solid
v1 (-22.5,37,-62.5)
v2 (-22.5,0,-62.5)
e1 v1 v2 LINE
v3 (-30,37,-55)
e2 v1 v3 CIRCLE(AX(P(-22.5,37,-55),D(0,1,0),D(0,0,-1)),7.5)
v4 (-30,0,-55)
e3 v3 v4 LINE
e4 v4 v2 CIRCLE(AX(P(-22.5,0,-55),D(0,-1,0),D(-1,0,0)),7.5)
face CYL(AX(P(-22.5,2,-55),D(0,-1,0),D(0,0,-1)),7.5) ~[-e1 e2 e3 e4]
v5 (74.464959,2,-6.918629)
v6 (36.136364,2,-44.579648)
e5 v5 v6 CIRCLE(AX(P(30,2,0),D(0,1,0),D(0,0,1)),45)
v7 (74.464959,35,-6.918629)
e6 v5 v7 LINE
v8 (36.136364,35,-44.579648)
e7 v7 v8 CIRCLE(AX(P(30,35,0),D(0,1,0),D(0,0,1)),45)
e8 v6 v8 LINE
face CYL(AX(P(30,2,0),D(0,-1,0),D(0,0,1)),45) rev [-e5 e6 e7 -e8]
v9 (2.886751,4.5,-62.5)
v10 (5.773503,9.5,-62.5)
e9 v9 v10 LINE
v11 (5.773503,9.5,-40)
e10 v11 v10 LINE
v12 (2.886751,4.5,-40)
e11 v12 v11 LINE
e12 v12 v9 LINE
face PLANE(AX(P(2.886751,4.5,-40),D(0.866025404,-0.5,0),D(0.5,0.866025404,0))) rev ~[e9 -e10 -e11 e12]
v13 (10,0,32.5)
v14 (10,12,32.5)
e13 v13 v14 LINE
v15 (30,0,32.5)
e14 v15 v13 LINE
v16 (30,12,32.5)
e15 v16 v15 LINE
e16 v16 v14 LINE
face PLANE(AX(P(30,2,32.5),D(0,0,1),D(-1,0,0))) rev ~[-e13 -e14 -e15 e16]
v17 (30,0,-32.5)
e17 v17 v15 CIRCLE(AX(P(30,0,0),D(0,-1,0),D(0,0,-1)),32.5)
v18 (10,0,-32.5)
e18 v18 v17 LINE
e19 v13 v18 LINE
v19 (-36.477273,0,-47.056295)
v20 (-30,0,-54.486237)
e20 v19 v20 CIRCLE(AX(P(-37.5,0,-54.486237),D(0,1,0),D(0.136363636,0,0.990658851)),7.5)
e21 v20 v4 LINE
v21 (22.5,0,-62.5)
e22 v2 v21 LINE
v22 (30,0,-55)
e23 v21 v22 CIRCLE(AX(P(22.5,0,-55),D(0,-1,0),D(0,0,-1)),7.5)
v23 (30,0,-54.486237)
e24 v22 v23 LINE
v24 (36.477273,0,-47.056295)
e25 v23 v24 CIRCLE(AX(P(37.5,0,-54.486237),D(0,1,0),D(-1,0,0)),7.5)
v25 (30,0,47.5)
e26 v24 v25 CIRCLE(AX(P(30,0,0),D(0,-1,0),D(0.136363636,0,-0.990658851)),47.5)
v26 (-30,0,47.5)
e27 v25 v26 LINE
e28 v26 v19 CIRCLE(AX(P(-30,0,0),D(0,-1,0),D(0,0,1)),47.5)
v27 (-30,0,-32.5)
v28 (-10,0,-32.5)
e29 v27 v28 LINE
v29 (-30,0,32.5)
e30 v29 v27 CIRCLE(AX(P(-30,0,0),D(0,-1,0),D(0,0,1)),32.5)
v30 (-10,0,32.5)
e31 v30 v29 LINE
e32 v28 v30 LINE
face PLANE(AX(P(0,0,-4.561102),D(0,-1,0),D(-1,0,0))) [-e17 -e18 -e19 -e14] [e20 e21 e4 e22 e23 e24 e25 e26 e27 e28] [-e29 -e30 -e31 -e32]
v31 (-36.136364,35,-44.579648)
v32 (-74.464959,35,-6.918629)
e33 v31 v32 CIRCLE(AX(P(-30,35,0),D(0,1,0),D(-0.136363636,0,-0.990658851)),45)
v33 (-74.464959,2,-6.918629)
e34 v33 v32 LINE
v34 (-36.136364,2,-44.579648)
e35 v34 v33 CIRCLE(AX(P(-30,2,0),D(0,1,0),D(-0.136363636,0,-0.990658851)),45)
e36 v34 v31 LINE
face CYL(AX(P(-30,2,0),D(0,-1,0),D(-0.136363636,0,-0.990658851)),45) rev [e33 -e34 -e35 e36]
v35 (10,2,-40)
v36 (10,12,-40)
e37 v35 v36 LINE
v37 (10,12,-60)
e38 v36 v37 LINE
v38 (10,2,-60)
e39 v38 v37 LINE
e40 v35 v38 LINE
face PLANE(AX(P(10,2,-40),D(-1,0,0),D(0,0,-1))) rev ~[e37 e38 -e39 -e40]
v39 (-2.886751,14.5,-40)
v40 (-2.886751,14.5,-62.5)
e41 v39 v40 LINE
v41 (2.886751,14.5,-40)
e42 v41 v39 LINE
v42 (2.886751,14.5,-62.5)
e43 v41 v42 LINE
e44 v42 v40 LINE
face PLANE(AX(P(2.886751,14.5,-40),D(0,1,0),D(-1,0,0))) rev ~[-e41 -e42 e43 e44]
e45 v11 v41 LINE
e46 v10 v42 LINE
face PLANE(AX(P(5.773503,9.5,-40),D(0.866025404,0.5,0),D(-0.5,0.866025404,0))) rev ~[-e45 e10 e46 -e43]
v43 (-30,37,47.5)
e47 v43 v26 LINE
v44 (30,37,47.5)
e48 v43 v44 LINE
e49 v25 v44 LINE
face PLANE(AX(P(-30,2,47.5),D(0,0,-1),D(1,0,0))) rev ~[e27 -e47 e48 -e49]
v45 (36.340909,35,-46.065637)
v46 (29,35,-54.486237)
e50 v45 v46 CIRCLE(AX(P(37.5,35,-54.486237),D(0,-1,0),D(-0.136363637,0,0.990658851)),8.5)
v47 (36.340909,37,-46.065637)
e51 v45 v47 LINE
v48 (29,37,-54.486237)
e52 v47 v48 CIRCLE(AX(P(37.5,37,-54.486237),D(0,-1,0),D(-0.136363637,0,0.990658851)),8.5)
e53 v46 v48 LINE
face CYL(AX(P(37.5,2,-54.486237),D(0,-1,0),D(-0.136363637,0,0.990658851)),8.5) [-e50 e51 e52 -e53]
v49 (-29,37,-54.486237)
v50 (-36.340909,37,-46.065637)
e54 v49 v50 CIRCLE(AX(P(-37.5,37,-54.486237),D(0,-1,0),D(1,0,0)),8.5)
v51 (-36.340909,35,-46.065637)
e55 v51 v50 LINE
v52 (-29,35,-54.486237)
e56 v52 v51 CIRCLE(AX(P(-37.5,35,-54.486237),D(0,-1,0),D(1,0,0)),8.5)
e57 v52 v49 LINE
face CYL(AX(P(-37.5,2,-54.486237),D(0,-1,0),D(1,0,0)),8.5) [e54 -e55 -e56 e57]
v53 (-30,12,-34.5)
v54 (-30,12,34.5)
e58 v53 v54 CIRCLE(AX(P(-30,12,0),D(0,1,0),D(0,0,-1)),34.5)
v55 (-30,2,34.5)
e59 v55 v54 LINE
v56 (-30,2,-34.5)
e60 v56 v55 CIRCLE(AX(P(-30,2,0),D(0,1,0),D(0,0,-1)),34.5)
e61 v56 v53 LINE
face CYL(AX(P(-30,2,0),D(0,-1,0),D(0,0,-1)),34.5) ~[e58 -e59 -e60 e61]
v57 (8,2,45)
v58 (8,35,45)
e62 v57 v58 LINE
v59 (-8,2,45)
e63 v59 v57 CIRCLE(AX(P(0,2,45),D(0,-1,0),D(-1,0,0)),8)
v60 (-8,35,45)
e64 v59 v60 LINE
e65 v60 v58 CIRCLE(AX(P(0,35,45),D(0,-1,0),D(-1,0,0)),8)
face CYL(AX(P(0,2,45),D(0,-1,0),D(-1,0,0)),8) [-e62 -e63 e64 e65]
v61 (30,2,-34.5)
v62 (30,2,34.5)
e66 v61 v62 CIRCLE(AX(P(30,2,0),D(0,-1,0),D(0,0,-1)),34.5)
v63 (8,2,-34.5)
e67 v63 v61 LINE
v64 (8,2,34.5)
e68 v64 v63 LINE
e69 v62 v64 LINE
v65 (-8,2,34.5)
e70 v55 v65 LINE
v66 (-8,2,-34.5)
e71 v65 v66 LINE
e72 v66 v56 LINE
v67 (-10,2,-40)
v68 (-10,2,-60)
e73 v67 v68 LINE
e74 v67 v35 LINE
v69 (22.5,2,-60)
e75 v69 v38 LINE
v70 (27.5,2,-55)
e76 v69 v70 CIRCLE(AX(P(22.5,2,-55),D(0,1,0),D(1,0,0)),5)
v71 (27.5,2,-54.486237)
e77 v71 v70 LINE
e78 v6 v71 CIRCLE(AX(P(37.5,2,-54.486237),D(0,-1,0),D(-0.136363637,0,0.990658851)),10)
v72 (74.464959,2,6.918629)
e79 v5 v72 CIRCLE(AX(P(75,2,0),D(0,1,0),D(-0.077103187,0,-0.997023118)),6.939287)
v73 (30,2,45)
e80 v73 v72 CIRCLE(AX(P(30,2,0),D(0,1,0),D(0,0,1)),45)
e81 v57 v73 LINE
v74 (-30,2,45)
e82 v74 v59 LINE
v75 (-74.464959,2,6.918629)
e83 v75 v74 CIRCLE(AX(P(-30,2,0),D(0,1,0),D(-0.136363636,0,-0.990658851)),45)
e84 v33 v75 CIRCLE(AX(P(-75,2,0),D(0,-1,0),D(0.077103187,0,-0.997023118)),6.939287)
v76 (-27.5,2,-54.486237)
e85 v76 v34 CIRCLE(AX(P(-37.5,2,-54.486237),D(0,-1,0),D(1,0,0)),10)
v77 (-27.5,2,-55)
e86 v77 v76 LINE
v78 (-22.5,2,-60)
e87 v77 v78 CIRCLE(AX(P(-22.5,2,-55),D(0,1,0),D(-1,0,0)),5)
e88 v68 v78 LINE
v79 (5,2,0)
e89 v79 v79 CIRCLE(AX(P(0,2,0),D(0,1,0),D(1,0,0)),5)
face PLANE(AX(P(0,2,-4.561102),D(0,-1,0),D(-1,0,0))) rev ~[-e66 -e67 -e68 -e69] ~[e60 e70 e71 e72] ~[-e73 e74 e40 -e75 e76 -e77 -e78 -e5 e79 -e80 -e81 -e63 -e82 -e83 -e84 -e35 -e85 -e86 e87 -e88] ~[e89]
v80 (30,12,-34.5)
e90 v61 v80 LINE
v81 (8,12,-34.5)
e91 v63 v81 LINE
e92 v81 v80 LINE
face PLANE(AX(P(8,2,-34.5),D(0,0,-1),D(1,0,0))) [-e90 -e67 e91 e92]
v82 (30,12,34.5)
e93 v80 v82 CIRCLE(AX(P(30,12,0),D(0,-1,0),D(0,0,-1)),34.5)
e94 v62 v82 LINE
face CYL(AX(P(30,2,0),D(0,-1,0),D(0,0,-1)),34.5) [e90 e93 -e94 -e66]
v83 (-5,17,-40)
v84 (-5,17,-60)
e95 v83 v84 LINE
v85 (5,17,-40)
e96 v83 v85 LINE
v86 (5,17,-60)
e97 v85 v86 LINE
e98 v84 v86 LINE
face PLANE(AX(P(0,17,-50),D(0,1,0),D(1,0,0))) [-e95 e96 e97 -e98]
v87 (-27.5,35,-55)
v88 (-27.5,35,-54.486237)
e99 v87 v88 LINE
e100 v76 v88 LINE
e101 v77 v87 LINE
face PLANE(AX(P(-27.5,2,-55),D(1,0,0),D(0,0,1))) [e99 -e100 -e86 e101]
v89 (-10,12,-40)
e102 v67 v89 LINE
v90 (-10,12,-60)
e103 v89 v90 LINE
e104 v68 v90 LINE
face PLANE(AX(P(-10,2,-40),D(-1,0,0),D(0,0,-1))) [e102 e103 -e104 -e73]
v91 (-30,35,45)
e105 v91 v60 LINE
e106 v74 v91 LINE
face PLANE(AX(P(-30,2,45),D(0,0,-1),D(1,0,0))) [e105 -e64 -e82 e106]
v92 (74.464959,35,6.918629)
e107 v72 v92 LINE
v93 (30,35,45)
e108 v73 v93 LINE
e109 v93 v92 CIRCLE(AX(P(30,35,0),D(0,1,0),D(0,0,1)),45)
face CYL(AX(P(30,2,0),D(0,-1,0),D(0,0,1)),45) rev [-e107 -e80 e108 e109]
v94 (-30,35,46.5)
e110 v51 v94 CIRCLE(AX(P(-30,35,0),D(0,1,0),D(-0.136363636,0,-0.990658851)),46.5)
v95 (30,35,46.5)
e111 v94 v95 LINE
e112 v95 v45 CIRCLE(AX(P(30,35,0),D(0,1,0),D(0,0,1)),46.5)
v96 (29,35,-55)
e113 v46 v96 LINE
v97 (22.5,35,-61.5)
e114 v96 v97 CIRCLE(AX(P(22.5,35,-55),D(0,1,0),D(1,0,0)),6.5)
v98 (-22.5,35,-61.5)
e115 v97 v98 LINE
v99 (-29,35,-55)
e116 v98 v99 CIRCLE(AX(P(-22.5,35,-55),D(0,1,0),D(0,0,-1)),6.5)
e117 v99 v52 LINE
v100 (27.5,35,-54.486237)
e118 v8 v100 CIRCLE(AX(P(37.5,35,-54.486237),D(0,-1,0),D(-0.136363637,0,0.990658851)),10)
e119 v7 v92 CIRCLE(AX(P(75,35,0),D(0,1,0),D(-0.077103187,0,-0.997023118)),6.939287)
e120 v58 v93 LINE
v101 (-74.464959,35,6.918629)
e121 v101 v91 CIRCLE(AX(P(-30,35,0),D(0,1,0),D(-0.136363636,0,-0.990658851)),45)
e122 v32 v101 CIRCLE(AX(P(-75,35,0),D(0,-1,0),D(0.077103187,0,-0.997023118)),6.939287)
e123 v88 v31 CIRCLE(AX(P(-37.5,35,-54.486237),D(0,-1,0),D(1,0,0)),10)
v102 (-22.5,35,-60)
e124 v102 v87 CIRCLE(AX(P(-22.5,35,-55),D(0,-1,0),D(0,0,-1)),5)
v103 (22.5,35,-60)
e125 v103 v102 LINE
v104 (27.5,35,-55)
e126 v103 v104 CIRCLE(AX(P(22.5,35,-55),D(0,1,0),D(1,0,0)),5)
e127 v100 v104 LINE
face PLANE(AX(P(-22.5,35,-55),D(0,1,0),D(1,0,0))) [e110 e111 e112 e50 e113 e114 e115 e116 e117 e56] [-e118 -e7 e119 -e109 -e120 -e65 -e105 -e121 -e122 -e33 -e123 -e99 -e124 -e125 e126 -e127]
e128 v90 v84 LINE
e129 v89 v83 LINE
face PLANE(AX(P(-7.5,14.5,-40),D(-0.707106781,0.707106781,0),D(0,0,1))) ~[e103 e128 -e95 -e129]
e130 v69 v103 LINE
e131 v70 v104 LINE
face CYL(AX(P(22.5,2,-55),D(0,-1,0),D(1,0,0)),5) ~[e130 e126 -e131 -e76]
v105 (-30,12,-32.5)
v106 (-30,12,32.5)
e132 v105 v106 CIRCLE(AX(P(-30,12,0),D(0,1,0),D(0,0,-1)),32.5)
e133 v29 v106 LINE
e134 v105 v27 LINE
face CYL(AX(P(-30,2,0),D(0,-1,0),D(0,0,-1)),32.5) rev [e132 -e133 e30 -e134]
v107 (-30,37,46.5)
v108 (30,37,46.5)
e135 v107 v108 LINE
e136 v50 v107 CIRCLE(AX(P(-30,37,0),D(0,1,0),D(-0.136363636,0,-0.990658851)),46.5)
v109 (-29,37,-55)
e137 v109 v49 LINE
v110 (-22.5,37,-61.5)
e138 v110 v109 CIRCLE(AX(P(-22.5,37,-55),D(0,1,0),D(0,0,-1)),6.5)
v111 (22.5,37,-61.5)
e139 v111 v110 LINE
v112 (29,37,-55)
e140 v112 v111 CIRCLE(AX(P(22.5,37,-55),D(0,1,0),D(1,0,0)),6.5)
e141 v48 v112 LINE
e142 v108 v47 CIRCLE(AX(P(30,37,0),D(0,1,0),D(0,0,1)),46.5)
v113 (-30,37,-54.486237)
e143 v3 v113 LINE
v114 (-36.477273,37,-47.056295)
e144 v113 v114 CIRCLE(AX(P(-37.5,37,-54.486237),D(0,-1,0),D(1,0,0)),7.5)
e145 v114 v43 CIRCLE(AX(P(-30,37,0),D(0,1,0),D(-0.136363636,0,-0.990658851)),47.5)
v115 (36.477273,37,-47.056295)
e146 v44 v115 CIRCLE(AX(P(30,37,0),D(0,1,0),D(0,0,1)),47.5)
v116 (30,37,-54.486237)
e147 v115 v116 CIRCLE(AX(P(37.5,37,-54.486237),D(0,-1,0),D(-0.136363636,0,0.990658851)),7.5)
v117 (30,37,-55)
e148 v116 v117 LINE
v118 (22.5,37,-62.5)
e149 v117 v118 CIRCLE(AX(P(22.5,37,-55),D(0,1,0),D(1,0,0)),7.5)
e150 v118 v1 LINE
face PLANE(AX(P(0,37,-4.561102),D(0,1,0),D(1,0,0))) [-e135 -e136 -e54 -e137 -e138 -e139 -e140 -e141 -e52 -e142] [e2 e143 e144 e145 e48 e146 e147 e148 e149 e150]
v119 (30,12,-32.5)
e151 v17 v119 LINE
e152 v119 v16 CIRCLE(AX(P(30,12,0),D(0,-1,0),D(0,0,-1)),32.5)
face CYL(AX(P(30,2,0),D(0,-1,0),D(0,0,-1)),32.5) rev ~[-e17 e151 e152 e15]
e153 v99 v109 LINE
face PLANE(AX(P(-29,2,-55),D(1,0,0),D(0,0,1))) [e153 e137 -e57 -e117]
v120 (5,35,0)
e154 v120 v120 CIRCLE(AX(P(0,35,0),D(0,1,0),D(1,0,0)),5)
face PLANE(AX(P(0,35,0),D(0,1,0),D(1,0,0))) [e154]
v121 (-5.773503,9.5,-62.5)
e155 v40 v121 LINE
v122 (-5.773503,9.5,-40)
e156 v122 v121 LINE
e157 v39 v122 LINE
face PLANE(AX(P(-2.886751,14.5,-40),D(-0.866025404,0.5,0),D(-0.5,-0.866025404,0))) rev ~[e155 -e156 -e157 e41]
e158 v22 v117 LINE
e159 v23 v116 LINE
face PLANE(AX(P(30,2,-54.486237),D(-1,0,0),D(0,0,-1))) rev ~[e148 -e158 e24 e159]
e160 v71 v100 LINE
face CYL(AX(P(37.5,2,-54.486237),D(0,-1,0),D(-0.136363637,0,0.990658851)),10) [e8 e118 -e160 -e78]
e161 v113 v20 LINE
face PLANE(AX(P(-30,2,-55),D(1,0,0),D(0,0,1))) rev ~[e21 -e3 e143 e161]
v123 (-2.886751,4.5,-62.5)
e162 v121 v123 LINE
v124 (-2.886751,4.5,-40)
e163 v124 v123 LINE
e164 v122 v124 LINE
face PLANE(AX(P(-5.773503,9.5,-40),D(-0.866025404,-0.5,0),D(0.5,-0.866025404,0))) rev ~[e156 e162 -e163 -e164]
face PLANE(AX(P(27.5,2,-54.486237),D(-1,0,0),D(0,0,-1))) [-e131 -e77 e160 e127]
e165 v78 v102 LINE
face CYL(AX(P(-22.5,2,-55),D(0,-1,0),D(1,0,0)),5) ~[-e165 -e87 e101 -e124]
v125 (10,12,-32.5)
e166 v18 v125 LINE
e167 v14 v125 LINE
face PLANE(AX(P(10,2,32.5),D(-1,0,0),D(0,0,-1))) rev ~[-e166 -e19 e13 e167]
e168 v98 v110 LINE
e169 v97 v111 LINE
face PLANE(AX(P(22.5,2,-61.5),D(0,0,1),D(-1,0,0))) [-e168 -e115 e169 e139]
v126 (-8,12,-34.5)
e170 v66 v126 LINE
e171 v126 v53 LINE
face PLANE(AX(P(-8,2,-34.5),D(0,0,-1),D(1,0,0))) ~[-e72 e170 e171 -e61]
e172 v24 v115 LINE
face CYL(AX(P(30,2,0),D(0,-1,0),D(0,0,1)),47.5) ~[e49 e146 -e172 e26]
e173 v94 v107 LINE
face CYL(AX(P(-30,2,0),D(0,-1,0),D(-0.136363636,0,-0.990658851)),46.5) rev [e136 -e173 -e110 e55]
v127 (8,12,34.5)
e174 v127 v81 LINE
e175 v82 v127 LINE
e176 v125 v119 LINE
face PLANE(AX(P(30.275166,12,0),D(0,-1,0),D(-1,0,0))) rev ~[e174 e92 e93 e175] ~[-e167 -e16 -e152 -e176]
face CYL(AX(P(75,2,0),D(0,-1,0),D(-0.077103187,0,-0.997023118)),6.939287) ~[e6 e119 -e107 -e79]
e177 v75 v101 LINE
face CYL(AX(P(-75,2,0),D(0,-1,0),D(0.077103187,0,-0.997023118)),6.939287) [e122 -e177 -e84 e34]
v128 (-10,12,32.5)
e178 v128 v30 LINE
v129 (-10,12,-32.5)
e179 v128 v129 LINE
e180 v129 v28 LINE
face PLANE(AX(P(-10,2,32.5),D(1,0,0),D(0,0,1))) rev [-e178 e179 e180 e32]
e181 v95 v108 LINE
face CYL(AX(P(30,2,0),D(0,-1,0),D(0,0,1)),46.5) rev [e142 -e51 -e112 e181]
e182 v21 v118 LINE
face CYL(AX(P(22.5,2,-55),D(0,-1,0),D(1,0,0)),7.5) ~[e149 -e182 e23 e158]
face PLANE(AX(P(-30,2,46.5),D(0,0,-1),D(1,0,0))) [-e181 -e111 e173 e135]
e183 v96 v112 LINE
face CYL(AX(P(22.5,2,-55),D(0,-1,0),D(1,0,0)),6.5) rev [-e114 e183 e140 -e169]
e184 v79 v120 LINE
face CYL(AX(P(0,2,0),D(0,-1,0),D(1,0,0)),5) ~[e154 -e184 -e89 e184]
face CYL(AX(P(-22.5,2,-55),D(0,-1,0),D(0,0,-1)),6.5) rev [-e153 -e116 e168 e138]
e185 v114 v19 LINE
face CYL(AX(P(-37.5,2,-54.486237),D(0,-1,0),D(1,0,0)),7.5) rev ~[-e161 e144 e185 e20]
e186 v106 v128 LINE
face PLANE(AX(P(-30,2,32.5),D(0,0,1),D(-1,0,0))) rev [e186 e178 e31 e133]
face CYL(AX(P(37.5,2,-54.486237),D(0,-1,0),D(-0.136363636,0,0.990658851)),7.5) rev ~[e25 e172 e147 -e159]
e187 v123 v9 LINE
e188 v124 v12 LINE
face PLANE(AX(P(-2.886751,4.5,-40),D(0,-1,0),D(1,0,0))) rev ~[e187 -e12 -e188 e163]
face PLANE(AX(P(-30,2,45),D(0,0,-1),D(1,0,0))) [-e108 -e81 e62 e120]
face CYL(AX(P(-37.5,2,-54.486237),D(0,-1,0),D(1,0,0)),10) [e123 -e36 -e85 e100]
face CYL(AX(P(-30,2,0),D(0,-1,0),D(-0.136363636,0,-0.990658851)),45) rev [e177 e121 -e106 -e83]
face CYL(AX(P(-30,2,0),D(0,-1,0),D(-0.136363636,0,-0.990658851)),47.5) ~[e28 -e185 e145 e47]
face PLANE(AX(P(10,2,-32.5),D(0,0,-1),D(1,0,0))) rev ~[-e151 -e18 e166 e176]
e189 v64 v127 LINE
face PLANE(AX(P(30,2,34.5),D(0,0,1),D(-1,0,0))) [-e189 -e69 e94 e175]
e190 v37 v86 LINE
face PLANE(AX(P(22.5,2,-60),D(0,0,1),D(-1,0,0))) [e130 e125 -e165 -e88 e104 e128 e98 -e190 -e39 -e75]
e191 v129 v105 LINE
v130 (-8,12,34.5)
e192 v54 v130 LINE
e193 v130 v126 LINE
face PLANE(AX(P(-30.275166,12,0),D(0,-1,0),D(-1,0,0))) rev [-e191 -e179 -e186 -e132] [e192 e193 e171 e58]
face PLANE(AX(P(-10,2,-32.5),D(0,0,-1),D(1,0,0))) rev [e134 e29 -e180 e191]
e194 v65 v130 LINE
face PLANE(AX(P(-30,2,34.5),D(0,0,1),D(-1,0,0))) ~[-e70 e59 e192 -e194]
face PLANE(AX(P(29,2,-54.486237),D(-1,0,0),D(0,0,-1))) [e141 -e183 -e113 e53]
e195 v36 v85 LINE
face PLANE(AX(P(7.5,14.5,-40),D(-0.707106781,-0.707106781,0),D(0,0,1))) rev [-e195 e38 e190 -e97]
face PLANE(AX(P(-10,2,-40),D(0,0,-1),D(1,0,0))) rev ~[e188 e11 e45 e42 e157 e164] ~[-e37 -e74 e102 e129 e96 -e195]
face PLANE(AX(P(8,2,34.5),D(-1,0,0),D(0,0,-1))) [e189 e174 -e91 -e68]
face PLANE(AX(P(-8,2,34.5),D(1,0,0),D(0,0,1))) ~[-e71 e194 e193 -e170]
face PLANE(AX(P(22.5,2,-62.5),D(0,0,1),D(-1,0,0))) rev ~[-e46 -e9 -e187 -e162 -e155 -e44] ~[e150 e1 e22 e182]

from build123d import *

# Parameters (mm, degrees)
BOSS_EXTRUDE1_DEPTH = 2
EXTRUDE_THIN1_DEPTH = 35
EXTRUDE_THIN3_DEPTH = 10
EXTRUDE_THIN4_DEPTH = 33
BOSS_EXTRUDE4_DEPTH = 33
BOSS_EXTRUDE5_DEPTH = 33
SKETCH12_R          = 5
BOSS_EXTRUDE7_DEPTH = 33
SKETCH13_W          = 20
SKETCH13_H          = 20
BOSS_EXTRUDE8_DEPTH = 15
CUT_EXTRUDE1_DEPTH  = 28
CHAMFER2_SIZE       = 5
SKETCH17_R          = 5
BOSS_EXTRUDE9_DEPTH = 33


with BuildPart() as part:
    # Sketch1 → Boss-Extrude1 (new body)
    with BuildSketch(Plane(origin=(0, 0, 0), x_dir=(1, 0, 0), z_dir=(0, 1, 0))):
        with BuildLine():
            Line((-30, 54.486236794), (-30, 55))
            ThreePointArc((-30, 55), (-27.803300859, 60.303300859), (-22.5, 62.5))
            Line((-22.5, 62.5), (22.5, 62.5))
            ThreePointArc((22.5, 62.5), (27.803300859, 60.303300859), (30, 55))
            Line((30, 55), (30, 54.486236794))
            ThreePointArc((30, 54.486236794), (31.846662289, 49.557771239), (36.477272727, 47.056295413))
            ThreePointArc((36.477272727, 47.056295413), (77.388944028, -3.246226107), (30, -47.5))
            Line((30, -47.5), (-30, -47.5))
            ThreePointArc((-30, -47.5), (-77.388944028, -3.246226107), (-36.477272727, 47.056295413))
            ThreePointArc((-36.477272727, 47.056295413), (-31.846662289, 49.557771239), (-30, 54.486236794))
        make_face()
        with BuildLine():
            Line((-30, 32.5), (-10, 32.5))
            Line((-10, 32.5), (-10, -32.5))
            Line((-10, -32.5), (-30, -32.5))
            ThreePointArc((-30, -32.5), (-62.5, 0), (-30, 32.5))
        make_face(mode=Mode.SUBTRACT)
        with BuildLine():
            Line((10, 32.5), (30, 32.5))
            ThreePointArc((30, 32.5), (62.5, 0), (30, -32.5))
            Line((30, -32.5), (10, -32.5))
            Line((10, -32.5), (10, 32.5))
        make_face(mode=Mode.SUBTRACT)
    extrude(amount=BOSS_EXTRUDE1_DEPTH)

    # Sketch2 → Extrude-Thin1 (add)
    with BuildSketch(Plane(origin=(0, 2, 0), x_dir=(1, 0, 0), z_dir=(0, 1, 0))):
        with BuildLine():
            Line((-30, -47.5), (30, -47.5))
            ThreePointArc((30, -47.5), (77.388944028, -3.246226107), (36.477272727, 47.056295413))
            ThreePointArc((36.477272727, 47.056295413), (31.846662289, 49.557771239), (30, 54.486236794))
            Line((30, 54.486236794), (30, 55))
            ThreePointArc((30, 55), (27.803300859, 60.303300859), (22.5, 62.5))
            Line((22.5, 62.5), (-22.5, 62.5))
            ThreePointArc((-22.5, 62.5), (-27.803300859, 60.303300859), (-30, 55))
            Line((-30, 55), (-30, 54.486236794))
            ThreePointArc((-30, 54.486236794), (-31.846662289, 49.557771239), (-36.477272727, 47.056295413))
            ThreePointArc((-36.477272727, 47.056295413), (-77.388944028, -3.246226107), (-30, -47.5))
        make_face()
        with BuildLine():
            Line((-30, -46.5), (30, -46.5))
            ThreePointArc((30, -46.5), (76.391282048, -3.177884504), (36.340909091, 46.065636562))
            ThreePointArc((36.340909091, 46.065636562), (31.092883928, 48.900642499), (29, 54.486236794))
            Line((29, 54.486236794), (29, 55))
            ThreePointArc((29, 55), (27.096194078, 59.596194078), (22.5, 61.5))
            Line((22.5, 61.5), (-22.5, 61.5))
            ThreePointArc((-22.5, 61.5), (-27.096194078, 59.596194078), (-29, 55))
            Line((-29, 55), (-29, 54.486236794))
            ThreePointArc((-29, 54.486236794), (-31.092883928, 48.900642499), (-36.340909091, 46.065636562))
            ThreePointArc((-36.340909091, 46.065636562), (-76.391282048, -3.177884504), (-30, -46.5))
        make_face(mode=Mode.SUBTRACT)
    extrude(amount=EXTRUDE_THIN1_DEPTH)

    # Sketch5 → Extrude-Thin3 (add)
    with BuildSketch(Plane(origin=(0, 2, 0), x_dir=(1, 0, 0), z_dir=(0, 1, 0))):
        with BuildLine():
            Line((30, -34.5), (8, -34.5))
            Line((8, -34.5), (8, 34.5))
            Line((8, 34.5), (30, 34.5))
            ThreePointArc((30, 34.5), (64.5, 0), (30, -34.5))
        make_face()
        with BuildLine():
            Line((30, -32.5), (10, -32.5))
            Line((10, -32.5), (10, 32.5))
            Line((10, 32.5), (30, 32.5))
            ThreePointArc((30, 32.5), (62.5, 0), (30, -32.5))
        make_face(mode=Mode.SUBTRACT)
    extrude_thin3 = extrude(amount=EXTRUDE_THIN3_DEPTH)

    # Mirror1: Extrude-Thin3 across plane
    add(extrude_thin3.mirror(Plane(origin=(0, 0, 0), x_dir=(0, 0, 1), z_dir=(1, 0, 0))))

    # Sketch6 → Extrude-Thin4 (add)
    with BuildSketch(Plane(origin=(0, 2, 0), x_dir=(1, 0, 0), z_dir=(0, 1, 0))):
        with BuildLine():
            Line((-30, -46.5), (30, -46.5))
            ThreePointArc((30, -46.5), (76.391282048, -3.177884504), (36.340909091, 46.065636562))
            ThreePointArc((36.340909091, 46.065636562), (31.092883928, 48.900642499), (29, 54.486236794))
            Line((29, 54.486236794), (29, 55))
            ThreePointArc((29, 55), (27.096194078, 59.596194078), (22.5, 61.5))
            Line((22.5, 61.5), (-22.5, 61.5))
            ThreePointArc((-22.5, 61.5), (-27.096194078, 59.596194078), (-29, 55))
            Line((-29, 55), (-29, 54.486236794))
            ThreePointArc((-29, 54.486236794), (-31.092883928, 48.900642499), (-36.340909091, 46.065636562))
            ThreePointArc((-36.340909091, 46.065636562), (-76.391282048, -3.177884504), (-30, -46.5))
        make_face()
        with BuildLine():
            Line((-30, -45), (30, -45))
            ThreePointArc((30, -45), (74.894789079, -3.075372101), (36.136363636, 44.579648286))
            ThreePointArc((36.136363636, 44.579648286), (29.962216386, 47.914949388), (27.5, 54.486236794))
            Line((27.5, 54.486236794), (27.5, 55))
            ThreePointArc((27.5, 55), (26.035533906, 58.535533906), (22.5, 60))
            Line((22.5, 60), (-22.5, 60))
            ThreePointArc((-22.5, 60), (-26.035533906, 58.535533906), (-27.5, 55))
            Line((-27.5, 55), (-27.5, 54.486236794))
            ThreePointArc((-27.5, 54.486236794), (-29.962216386, 47.914949388), (-36.136363636, 44.579648286))
            ThreePointArc((-36.136363636, 44.579648286), (-74.894789079, -3.075372101), (-30, -45))
        make_face(mode=Mode.SUBTRACT)
    extrude(amount=EXTRUDE_THIN4_DEPTH)

    # Sketch8 → Boss-Extrude4 (add)
    with BuildSketch(Plane(origin=(0, 2, 0), x_dir=(1, 0, 0), z_dir=(0, 1, 0))):
        with BuildLine():
            ThreePointArc((-74.464958868, 6.918629407), (-68.060713157, 0), (-74.464958868, -6.918629407))
            ThreePointArc((-74.464958868, -6.918629407), (-75, 0), (-74.464958868, 6.918629407))
        make_face()
    boss_extrude4 = extrude(amount=BOSS_EXTRUDE4_DEPTH)

    # Mirror2: Boss-Extrude4 across plane
    add(boss_extrude4.mirror(Plane(origin=(0, 0, 0), x_dir=(0, 0, 1), z_dir=(1, 0, 0))))

    # Sketch9 → Boss-Extrude5 (add)
    with BuildSketch(Plane(origin=(0, 2, 0), x_dir=(1, 0, 0), z_dir=(0, 1, 0))):
        with BuildLine():
            Line((8, -45), (-8, -45))
            ThreePointArc((-8, -45), (0, -37), (8, -45))
        make_face()
    extrude(amount=BOSS_EXTRUDE5_DEPTH)

    # Sketch12 → Boss-Extrude7 (add)
    with BuildSketch(Plane(origin=(0, 2, 0), x_dir=(1, 0, 0), z_dir=(0, 1, 0))):
        with Locations((-22.5, 55)):
            Circle(SKETCH12_R)
        with Locations((22.5, 55)):
            Circle(SKETCH12_R)
    extrude(amount=BOSS_EXTRUDE7_DEPTH)

    # Sketch13 → Boss-Extrude8 (add)
    with BuildSketch(Plane(origin=(0, 2, 0), x_dir=(1, 0, 0), z_dir=(0, 1, 0))):
        with Locations((0, 50)):
            Rectangle(SKETCH13_W, SKETCH13_H)
    extrude(amount=BOSS_EXTRUDE8_DEPTH)

    # Sketch14 → Cut-Extrude1 (cut)
    with BuildSketch(Plane.XY.offset(-40)):
        Polygon((5.773502692, 9.5), (2.886751346, 14.5), (-2.886751346, 14.5), (-5.773502692, 9.5), (-2.886751346, 4.5), (2.886751346, 4.5), align=None)
    extrude(amount=-CUT_EXTRUDE1_DEPTH, mode=Mode.SUBTRACT)

    # Chamfer2
    chamfer2_edges = [part.edges().sort_by_distance(p)[0] for p in [
        (10, 17, -50),
        (-10, 17, -50),
    ]]
    chamfer(chamfer2_edges, length=CHAMFER2_SIZE)

    # Sketch17 → Boss-Extrude9 (add)
    with BuildSketch(Plane(origin=(0, 2, 0), x_dir=(1, 0, 0), z_dir=(0, 1, 0))):
        Circle(SKETCH17_R)
    extrude(amount=BOSS_EXTRUDE9_DEPTH)


solid = part.part
